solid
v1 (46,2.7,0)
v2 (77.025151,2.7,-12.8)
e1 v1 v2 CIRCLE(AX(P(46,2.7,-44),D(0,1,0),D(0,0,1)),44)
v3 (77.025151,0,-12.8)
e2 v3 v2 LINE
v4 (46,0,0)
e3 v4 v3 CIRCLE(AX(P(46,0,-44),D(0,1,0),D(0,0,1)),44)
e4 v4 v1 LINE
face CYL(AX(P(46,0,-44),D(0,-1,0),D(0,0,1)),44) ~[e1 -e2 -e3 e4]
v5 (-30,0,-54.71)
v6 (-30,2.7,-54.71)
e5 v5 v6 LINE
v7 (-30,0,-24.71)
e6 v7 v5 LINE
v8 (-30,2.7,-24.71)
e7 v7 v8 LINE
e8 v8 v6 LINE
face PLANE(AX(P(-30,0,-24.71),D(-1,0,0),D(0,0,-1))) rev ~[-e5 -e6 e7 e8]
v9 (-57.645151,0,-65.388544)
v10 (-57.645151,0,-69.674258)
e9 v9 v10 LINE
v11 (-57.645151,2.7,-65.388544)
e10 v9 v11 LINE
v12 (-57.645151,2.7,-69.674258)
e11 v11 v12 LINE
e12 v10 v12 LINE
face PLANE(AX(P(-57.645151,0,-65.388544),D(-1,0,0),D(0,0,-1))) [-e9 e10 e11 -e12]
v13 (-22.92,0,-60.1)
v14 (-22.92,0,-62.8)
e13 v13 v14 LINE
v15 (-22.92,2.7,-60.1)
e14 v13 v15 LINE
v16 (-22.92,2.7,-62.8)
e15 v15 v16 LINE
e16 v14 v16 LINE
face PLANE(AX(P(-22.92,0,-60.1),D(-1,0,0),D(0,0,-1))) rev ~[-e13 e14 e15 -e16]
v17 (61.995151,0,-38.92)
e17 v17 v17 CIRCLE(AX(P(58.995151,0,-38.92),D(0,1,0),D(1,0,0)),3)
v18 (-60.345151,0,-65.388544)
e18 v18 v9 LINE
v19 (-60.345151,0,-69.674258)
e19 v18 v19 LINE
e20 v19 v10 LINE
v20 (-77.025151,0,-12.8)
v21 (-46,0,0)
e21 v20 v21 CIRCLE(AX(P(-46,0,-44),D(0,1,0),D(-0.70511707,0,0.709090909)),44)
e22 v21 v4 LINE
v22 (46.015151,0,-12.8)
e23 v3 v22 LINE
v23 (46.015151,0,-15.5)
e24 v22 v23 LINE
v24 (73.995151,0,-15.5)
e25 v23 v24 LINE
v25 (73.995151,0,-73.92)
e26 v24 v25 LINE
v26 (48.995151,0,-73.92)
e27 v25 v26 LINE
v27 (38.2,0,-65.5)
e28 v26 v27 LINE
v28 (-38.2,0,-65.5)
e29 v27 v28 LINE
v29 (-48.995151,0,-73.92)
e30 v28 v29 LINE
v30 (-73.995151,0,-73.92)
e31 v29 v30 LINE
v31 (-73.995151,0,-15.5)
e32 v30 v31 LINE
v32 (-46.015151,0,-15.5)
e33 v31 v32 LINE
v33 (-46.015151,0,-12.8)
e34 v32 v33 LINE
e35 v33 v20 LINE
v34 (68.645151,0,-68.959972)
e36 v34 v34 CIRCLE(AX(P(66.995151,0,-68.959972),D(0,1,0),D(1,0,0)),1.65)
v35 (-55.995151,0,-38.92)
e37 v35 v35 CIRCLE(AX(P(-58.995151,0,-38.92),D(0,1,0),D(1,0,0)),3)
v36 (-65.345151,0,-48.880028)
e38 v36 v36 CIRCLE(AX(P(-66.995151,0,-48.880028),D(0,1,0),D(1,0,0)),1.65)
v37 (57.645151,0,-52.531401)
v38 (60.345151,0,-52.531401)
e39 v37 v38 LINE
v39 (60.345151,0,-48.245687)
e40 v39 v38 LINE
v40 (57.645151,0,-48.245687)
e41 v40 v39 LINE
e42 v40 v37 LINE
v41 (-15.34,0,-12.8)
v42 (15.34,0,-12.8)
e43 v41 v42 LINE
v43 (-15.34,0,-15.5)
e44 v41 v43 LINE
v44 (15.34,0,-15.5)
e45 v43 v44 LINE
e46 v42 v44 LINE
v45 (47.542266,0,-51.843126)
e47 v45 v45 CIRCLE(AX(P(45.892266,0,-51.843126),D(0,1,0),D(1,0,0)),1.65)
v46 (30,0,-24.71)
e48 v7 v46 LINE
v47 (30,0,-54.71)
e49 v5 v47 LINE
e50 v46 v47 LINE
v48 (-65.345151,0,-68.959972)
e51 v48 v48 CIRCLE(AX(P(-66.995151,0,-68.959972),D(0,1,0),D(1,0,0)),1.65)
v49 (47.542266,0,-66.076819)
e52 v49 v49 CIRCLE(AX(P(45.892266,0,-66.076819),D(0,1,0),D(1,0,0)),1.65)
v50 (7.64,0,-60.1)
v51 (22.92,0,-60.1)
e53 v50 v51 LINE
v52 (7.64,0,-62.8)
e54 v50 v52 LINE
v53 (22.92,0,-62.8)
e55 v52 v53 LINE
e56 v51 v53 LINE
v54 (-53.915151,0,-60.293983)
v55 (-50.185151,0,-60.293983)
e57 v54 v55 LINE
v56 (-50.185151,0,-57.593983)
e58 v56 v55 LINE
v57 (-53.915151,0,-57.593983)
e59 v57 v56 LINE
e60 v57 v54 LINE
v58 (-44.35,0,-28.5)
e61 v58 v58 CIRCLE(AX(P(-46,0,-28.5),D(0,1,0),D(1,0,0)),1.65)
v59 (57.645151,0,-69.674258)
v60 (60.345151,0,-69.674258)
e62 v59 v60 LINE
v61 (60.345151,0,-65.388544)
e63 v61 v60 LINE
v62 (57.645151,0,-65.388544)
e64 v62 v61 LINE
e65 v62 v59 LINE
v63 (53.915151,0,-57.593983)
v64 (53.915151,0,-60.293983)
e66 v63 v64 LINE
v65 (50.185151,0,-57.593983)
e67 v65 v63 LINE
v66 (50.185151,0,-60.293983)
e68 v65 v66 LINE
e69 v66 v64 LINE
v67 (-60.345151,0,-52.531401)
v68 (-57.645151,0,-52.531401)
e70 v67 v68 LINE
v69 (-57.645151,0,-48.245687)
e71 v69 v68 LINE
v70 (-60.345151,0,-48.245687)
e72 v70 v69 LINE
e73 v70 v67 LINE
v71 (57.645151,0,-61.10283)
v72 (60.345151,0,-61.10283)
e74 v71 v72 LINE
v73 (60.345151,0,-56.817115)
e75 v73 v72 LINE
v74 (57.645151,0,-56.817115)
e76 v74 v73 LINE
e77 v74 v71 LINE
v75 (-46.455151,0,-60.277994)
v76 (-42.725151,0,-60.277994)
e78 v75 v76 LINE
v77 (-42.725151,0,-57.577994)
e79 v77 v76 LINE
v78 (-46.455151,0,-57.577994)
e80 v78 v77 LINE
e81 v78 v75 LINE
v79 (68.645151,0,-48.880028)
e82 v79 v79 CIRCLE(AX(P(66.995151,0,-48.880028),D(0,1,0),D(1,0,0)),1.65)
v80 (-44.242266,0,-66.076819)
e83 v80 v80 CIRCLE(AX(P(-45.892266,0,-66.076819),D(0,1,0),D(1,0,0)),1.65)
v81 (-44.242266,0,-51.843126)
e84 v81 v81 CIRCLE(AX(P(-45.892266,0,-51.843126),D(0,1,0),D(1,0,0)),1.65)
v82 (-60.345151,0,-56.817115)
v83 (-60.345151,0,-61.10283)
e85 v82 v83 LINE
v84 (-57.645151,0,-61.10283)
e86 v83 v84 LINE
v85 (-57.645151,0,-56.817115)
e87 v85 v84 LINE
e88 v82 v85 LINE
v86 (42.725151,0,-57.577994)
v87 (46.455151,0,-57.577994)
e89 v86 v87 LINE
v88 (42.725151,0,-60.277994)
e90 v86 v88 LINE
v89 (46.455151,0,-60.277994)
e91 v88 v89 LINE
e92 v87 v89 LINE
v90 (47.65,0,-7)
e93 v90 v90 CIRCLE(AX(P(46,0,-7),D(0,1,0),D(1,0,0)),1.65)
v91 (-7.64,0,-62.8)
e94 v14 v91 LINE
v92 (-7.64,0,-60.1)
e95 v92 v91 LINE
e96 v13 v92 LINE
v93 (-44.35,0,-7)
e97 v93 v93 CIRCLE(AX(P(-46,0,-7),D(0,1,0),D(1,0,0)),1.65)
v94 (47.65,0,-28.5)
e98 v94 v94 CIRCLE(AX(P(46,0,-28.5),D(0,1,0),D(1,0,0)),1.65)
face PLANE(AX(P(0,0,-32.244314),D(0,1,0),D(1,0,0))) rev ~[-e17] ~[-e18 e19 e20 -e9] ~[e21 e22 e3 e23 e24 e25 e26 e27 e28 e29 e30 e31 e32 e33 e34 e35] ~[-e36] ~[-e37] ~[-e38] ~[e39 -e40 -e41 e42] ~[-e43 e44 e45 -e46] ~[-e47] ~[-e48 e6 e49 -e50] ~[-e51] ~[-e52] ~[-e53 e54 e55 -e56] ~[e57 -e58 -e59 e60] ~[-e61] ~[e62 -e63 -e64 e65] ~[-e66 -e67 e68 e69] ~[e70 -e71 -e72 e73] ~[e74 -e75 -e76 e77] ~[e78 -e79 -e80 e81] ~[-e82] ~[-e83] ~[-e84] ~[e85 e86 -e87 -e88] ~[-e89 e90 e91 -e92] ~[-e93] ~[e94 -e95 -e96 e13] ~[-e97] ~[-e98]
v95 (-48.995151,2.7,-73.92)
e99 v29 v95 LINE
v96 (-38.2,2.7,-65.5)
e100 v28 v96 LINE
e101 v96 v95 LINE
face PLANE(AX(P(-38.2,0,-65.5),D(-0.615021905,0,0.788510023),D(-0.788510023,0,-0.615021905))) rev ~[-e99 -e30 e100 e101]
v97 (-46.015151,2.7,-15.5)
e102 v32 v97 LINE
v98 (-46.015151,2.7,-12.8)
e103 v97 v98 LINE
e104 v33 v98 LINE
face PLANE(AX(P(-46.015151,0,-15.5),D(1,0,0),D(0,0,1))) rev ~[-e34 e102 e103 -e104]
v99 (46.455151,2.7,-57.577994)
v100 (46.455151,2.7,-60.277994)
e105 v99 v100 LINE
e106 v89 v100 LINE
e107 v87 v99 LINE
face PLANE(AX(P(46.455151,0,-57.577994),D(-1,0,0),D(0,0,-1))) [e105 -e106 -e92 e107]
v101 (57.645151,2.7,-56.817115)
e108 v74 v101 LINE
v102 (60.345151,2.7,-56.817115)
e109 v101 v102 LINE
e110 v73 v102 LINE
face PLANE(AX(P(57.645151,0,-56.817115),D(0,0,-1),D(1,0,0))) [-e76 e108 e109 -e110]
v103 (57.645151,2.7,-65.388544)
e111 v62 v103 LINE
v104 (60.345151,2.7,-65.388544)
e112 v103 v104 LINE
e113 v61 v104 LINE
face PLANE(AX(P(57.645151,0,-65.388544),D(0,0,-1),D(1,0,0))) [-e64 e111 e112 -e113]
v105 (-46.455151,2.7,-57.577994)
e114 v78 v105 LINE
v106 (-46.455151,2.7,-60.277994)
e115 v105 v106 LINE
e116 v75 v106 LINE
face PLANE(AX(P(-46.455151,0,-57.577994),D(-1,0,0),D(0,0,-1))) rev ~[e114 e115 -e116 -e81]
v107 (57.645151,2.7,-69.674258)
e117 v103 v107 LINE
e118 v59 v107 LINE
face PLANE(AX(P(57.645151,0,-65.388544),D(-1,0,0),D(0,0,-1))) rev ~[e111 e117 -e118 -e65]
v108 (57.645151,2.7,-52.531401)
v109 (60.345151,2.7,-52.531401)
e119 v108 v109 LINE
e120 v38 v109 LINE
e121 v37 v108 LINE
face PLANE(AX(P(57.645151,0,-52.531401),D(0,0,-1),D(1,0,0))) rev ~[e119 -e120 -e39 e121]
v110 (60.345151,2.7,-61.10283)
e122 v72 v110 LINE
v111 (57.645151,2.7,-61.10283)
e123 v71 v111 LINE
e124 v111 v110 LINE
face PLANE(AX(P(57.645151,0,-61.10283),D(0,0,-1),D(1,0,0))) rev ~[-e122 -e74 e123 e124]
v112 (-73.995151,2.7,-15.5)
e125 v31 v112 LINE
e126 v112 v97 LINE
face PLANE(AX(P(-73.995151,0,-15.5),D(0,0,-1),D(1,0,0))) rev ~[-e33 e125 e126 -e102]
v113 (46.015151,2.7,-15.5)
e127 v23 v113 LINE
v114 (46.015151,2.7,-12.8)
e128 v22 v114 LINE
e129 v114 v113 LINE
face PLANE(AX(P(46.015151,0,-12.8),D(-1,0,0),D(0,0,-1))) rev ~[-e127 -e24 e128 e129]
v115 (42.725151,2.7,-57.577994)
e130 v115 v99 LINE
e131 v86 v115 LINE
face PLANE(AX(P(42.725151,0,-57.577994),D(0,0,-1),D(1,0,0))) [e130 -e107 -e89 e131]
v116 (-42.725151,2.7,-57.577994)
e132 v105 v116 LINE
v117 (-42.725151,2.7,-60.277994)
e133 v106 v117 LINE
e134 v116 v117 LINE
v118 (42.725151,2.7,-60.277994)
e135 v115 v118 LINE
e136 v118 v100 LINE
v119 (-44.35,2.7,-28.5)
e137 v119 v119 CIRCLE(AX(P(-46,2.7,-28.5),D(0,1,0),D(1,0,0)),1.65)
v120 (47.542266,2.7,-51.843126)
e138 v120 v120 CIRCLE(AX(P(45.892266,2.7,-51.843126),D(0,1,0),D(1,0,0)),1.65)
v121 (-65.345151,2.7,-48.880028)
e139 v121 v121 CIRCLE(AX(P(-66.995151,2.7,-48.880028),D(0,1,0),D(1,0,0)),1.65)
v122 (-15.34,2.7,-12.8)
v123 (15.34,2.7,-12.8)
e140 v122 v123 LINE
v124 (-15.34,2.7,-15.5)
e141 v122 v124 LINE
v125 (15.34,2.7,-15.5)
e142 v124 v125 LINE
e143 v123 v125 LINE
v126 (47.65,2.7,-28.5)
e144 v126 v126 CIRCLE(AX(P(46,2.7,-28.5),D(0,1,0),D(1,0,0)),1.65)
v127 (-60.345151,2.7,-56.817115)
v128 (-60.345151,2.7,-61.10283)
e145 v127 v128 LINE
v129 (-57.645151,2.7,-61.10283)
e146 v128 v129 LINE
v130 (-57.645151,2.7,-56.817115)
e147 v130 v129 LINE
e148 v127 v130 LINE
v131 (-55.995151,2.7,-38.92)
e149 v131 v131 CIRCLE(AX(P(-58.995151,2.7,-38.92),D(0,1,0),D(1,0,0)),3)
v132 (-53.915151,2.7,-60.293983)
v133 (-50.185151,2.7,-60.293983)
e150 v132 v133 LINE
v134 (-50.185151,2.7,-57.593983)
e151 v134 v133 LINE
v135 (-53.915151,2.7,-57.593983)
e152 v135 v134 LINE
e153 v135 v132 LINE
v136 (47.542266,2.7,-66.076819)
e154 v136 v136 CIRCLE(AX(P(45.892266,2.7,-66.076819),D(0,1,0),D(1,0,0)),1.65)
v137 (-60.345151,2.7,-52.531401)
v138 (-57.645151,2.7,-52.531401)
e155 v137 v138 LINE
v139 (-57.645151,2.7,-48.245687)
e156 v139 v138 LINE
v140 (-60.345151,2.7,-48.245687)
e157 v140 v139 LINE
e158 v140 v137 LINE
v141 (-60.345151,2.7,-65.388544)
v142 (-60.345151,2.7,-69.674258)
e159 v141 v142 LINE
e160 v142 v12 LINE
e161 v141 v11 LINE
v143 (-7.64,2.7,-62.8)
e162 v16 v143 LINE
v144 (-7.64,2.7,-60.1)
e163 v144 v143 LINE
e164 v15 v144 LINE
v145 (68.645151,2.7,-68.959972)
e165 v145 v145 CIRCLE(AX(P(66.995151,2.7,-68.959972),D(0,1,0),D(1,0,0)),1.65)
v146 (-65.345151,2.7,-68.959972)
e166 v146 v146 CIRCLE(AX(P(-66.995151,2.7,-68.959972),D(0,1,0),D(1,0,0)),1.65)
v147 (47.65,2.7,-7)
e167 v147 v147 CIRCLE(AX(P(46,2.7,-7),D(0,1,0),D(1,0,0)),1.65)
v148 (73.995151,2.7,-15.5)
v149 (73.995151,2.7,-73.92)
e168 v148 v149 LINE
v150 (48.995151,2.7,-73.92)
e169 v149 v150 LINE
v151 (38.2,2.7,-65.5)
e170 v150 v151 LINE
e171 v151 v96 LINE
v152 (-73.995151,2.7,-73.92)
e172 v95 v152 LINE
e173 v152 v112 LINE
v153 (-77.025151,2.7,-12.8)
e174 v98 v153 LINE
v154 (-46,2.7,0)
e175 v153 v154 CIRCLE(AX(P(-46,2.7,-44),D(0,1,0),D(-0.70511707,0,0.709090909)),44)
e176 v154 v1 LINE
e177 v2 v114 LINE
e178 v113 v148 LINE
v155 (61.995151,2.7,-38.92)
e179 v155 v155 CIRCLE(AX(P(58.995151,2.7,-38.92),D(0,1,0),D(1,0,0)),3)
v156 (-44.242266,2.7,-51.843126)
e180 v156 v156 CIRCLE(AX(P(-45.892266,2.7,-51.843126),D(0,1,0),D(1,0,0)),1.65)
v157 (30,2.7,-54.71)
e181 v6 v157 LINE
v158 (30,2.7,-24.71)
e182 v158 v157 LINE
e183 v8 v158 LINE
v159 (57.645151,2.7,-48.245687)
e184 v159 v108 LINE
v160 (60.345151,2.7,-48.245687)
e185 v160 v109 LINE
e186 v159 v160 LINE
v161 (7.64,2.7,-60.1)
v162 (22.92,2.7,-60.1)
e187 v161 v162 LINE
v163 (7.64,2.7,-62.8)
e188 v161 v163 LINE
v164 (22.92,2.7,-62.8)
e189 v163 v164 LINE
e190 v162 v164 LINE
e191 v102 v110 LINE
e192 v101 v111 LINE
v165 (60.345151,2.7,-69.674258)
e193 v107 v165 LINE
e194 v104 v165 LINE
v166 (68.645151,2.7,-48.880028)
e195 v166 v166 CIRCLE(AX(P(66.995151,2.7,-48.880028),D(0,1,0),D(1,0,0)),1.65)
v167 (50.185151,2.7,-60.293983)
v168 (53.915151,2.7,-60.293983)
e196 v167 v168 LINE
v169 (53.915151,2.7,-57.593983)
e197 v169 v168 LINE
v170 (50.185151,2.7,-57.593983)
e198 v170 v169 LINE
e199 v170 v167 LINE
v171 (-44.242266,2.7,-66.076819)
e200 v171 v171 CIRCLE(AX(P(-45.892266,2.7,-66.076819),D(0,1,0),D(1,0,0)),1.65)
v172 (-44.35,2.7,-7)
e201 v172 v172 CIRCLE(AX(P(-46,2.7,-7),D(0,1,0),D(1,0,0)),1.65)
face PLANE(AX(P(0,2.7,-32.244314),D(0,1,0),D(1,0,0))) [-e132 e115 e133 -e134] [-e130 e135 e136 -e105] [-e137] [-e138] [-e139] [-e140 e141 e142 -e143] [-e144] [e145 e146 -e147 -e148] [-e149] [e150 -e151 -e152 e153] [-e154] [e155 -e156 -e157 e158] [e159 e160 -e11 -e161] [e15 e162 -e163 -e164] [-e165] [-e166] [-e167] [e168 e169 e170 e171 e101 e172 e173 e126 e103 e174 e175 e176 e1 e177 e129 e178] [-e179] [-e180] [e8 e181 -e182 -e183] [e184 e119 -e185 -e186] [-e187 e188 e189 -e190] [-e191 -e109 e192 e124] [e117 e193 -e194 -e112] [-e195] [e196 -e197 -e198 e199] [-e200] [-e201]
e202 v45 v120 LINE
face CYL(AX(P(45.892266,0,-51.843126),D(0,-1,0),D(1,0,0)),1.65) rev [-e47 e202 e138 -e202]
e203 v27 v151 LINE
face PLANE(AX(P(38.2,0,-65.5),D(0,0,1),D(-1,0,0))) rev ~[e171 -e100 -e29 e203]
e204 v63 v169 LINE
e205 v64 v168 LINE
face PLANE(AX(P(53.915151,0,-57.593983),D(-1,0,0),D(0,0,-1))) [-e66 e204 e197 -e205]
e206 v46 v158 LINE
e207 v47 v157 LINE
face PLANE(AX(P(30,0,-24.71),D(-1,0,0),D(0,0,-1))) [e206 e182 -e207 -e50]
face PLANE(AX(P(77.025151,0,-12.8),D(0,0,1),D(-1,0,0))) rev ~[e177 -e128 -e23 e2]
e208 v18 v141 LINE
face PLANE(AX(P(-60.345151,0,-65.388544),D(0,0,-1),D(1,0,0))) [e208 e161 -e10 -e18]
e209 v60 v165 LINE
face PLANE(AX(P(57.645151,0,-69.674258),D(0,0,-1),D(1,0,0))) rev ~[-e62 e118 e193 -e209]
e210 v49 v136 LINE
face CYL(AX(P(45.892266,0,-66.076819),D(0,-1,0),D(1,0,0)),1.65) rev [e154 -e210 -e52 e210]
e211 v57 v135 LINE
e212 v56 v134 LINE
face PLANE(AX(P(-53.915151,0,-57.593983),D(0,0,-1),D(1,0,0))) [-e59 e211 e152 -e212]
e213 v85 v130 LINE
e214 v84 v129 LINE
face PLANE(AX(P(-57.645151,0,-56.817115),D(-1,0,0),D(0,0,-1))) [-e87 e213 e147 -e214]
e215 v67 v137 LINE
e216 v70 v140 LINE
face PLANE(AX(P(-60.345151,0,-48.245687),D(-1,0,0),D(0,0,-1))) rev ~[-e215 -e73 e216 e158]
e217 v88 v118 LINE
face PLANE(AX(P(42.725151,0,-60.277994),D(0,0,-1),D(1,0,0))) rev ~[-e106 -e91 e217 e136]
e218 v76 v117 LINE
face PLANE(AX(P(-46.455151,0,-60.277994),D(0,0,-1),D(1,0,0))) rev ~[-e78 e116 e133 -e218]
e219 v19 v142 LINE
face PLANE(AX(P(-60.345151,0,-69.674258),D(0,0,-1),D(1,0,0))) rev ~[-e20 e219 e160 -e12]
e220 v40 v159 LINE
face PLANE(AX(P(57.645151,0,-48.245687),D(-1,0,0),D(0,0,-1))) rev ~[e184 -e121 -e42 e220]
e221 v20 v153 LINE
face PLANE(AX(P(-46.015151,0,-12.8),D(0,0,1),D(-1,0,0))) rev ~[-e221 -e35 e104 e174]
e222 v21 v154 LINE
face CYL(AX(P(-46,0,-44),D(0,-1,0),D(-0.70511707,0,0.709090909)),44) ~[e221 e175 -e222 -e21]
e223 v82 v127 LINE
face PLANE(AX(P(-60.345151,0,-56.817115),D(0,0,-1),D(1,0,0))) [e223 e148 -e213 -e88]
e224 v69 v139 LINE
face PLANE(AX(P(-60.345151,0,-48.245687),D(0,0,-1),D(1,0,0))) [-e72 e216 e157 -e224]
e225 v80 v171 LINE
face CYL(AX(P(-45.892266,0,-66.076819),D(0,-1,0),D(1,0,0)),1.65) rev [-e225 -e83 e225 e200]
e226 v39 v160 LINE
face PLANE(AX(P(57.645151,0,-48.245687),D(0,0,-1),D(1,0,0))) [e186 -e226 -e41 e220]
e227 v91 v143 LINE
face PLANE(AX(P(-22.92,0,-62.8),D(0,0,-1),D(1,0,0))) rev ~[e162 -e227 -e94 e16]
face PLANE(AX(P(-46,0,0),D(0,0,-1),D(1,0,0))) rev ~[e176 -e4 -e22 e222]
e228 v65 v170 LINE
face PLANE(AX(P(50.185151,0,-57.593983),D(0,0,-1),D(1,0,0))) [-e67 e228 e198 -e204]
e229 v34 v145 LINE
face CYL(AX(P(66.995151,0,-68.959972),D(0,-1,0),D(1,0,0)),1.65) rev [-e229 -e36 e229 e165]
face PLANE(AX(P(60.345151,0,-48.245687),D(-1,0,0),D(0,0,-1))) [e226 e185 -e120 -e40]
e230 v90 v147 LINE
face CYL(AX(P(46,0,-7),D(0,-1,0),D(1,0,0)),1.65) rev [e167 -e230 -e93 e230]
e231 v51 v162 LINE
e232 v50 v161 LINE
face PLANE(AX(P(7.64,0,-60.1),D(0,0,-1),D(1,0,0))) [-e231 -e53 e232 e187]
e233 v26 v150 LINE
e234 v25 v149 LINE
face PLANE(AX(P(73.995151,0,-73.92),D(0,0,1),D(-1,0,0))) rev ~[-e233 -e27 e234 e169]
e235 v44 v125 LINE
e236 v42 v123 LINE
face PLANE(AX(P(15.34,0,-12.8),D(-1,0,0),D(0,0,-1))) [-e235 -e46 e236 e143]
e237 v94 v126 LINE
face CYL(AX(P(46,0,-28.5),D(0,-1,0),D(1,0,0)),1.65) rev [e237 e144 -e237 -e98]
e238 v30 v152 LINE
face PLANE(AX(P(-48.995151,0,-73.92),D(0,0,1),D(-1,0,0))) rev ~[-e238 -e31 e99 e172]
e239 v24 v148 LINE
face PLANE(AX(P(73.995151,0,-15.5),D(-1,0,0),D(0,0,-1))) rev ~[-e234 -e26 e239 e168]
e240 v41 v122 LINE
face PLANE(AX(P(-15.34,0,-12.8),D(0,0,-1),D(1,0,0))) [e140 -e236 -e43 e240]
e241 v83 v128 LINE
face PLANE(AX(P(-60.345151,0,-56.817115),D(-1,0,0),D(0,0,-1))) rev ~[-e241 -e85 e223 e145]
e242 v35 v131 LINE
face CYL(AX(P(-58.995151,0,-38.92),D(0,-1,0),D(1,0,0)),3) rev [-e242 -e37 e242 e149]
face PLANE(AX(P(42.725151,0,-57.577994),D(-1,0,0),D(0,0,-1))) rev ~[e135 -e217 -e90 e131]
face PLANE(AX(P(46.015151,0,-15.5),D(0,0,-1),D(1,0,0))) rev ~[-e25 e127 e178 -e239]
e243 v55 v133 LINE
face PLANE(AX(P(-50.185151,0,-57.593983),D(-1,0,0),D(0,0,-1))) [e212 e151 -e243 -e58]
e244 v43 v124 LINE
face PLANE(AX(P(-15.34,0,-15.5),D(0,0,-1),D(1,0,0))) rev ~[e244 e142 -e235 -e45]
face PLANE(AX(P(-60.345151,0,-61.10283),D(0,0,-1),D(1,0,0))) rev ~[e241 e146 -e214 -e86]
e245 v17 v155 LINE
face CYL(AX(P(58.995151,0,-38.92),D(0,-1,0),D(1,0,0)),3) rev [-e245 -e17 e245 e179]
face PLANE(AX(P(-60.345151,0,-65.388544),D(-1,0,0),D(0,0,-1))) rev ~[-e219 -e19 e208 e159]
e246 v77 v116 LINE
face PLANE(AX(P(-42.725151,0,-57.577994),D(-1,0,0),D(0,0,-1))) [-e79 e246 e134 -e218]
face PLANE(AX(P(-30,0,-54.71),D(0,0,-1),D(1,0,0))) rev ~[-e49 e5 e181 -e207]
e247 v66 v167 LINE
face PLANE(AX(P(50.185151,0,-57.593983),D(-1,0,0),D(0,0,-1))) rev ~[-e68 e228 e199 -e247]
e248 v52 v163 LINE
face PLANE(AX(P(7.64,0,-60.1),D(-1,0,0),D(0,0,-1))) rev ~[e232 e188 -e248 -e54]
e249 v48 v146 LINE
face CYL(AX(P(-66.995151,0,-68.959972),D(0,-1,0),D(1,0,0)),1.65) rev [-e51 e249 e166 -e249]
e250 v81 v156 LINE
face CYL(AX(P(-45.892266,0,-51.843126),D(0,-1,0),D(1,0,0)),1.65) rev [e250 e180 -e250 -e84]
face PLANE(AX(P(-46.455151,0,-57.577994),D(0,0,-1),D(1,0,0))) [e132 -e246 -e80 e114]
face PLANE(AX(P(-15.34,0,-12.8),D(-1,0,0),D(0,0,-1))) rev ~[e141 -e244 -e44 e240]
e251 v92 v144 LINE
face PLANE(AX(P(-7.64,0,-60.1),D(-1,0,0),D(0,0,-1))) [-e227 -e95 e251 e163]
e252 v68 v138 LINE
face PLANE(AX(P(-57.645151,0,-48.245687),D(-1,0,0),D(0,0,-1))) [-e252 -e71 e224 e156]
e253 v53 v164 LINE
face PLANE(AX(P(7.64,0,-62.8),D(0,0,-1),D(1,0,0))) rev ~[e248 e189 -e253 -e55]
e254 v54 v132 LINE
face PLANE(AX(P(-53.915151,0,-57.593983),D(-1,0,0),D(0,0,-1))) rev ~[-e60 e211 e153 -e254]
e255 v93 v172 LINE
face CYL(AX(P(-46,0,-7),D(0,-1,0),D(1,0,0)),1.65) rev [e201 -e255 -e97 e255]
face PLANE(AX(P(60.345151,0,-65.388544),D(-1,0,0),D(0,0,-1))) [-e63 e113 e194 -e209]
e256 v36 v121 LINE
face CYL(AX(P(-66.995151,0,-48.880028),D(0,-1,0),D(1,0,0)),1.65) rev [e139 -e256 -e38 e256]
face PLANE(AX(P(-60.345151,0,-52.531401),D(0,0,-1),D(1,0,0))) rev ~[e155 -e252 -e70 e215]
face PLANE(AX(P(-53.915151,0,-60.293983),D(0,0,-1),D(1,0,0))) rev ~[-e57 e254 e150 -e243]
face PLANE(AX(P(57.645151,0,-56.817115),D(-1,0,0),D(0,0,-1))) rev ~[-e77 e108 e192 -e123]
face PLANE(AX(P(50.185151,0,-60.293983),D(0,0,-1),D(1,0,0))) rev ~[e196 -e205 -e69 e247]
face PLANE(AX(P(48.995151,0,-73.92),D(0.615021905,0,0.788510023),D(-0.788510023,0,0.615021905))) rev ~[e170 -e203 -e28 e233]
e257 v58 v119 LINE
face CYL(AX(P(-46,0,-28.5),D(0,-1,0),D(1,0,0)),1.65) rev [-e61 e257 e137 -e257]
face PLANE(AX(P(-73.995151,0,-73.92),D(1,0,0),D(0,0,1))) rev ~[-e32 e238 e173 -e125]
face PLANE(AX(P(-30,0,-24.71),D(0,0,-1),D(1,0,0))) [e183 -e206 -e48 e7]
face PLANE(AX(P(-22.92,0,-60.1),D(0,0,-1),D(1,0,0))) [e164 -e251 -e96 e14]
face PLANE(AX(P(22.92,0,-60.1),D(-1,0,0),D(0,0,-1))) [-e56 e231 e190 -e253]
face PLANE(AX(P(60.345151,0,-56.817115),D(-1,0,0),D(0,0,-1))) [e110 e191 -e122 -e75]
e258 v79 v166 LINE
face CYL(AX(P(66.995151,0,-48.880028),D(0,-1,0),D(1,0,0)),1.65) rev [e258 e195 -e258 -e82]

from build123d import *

# Parameters (mm, degrees)
SKETCH1_R           = 1.65
SKETCH1_R_2         = 3
SKETCH1_W           = 30.68
SKETCH1_H           = 2.7
SKETCH1_W_2         = 15.28
SKETCH1_W_3         = 2.7
SKETCH1_H_2         = 4.285714286
SKETCH1_W_4         = 3.73
SKETCH1_W_5         = 60
SKETCH1_H_3         = 30
BOSS_EXTRUDE1_DEPTH = 2.7


with BuildPart() as part:
    # Sketch1 → Boss-Extrude1 (new body)
    with BuildSketch(Plane(origin=(0, 0, 0), x_dir=(1, 0, 0), z_dir=(0, 1, 0))):
        with BuildLine():
            Line((-46, 0), (46, 0))
            ThreePointArc((46, 0), (62.780941571, 3.32568378), (77.025151087, 12.8))
            Line((77.025151087, 12.8), (46.015151087, 12.8))
            Line((46.015151087, 12.8), (46.015151087, 15.5))
            Line((46.015151087, 15.5), (73.995151087, 15.5))
            Line((73.995151087, 15.5), (73.995151087, 35.5))
            Line((73.995151087, 35.5), (73.995151087, 43.92))
            Line((73.995151087, 43.92), (73.995151087, 73.92))
            Line((73.995151087, 73.92), (68.995151087, 73.92))
            Line((68.995151087, 73.92), (48.995151087, 73.92))
            Line((48.995151087, 73.92), (38.2, 65.5))
            Line((38.2, 65.5), (-38.2, 65.5))
            Line((-38.2, 65.5), (-48.995151087, 73.92))
            Line((-48.995151087, 73.92), (-68.995151087, 73.92))
            Line((-68.995151087, 73.92), (-73.995151087, 73.92))
            Line((-73.995151087, 73.92), (-73.995151087, 15.5))
            Line((-73.995151087, 15.5), (-46.015151087, 15.5))
            Line((-46.015151087, 15.5), (-46.015151087, 12.8))
            Line((-46.015151087, 12.8), (-77.025151087, 12.8))
            ThreePointArc((-77.025151087, 12.8), (-62.780941571, 3.32568378), (-46, 0))
        make_face()
        with Locations((46, 28.5)):
            Circle(SKETCH1_R, mode=Mode.SUBTRACT)
        with Locations((46, 7)):
            Circle(SKETCH1_R, mode=Mode.SUBTRACT)
        with Locations((-46, 7)):
            Circle(SKETCH1_R, mode=Mode.SUBTRACT)
        with Locations((-46, 28.5)):
            Circle(SKETCH1_R, mode=Mode.SUBTRACT)
        with Locations((66.995151087, 68.959972417)):
            Circle(SKETCH1_R, mode=Mode.SUBTRACT)
        with Locations((66.995151087, 48.880027583)):
            Circle(SKETCH1_R, mode=Mode.SUBTRACT)
        with Locations((45.892266276, 66.076819007)):
            Circle(SKETCH1_R, mode=Mode.SUBTRACT)
        with Locations((45.892266276, 51.843125828)):
            Circle(SKETCH1_R, mode=Mode.SUBTRACT)
        with Locations((-66.995151087, 48.880027583)):
            Circle(SKETCH1_R, mode=Mode.SUBTRACT)
        with Locations((-45.892266276, 66.076819007)):
            Circle(SKETCH1_R, mode=Mode.SUBTRACT)
        with Locations((-66.995151087, 68.959972417)):
            Circle(SKETCH1_R, mode=Mode.SUBTRACT)
        with Locations((-45.892266276, 51.843125828)):
            Circle(SKETCH1_R, mode=Mode.SUBTRACT)
        with Locations((-58.995151087, 38.92)):
            Circle(SKETCH1_R_2, mode=Mode.SUBTRACT)
        with Locations((58.995151087, 38.92)):
            Circle(SKETCH1_R_2, mode=Mode.SUBTRACT)
        with Locations((0, 14.15)):
            Rectangle(SKETCH1_W, SKETCH1_H, mode=Mode.SUBTRACT)
        with Locations((-15.28, 61.45)):
            Rectangle(SKETCH1_W_2, SKETCH1_H, mode=Mode.SUBTRACT)
        with Locations((15.28, 61.45)):
            Rectangle(SKETCH1_W_2, SKETCH1_H, mode=Mode.SUBTRACT)
        with Locations((58.995151087, 58.959972417)):
            Rectangle(SKETCH1_W_3, SKETCH1_H_2, mode=Mode.SUBTRACT)
        with Locations((44.590151087, 58.927994483)):
            Rectangle(SKETCH1_W_4, SKETCH1_H, mode=Mode.SUBTRACT)
        with Locations((58.995151087, 50.388543846)):
            Rectangle(SKETCH1_W_3, SKETCH1_H_2, mode=Mode.SUBTRACT)
        with Locations((58.995151087, 67.531400989)):
            Rectangle(SKETCH1_W_3, SKETCH1_H_2, mode=Mode.SUBTRACT)
        with Locations((52.050151087, 58.94398345)):
            Rectangle(SKETCH1_W_4, SKETCH1_H, mode=Mode.SUBTRACT)
        with Locations((-52.050151087, 58.94398345)):
            Rectangle(SKETCH1_W_4, SKETCH1_H, mode=Mode.SUBTRACT)
        with Locations((-44.590151087, 58.927994483)):
            Rectangle(SKETCH1_W_4, SKETCH1_H, mode=Mode.SUBTRACT)
        with Locations((-58.995151087, 67.531400989)):
            Rectangle(SKETCH1_W_3, SKETCH1_H_2, mode=Mode.SUBTRACT)
        with Locations((-58.995151087, 58.959972417)):
            Rectangle(SKETCH1_W_3, SKETCH1_H_2, mode=Mode.SUBTRACT)
        with Locations((-58.995151087, 50.388543846)):
            Rectangle(SKETCH1_W_3, SKETCH1_H_2, mode=Mode.SUBTRACT)
        with Locations((0, 39.71)):
            Rectangle(SKETCH1_W_5, SKETCH1_H_3, mode=Mode.SUBTRACT)
    extrude(amount=BOSS_EXTRUDE1_DEPTH)


solid = part.part
